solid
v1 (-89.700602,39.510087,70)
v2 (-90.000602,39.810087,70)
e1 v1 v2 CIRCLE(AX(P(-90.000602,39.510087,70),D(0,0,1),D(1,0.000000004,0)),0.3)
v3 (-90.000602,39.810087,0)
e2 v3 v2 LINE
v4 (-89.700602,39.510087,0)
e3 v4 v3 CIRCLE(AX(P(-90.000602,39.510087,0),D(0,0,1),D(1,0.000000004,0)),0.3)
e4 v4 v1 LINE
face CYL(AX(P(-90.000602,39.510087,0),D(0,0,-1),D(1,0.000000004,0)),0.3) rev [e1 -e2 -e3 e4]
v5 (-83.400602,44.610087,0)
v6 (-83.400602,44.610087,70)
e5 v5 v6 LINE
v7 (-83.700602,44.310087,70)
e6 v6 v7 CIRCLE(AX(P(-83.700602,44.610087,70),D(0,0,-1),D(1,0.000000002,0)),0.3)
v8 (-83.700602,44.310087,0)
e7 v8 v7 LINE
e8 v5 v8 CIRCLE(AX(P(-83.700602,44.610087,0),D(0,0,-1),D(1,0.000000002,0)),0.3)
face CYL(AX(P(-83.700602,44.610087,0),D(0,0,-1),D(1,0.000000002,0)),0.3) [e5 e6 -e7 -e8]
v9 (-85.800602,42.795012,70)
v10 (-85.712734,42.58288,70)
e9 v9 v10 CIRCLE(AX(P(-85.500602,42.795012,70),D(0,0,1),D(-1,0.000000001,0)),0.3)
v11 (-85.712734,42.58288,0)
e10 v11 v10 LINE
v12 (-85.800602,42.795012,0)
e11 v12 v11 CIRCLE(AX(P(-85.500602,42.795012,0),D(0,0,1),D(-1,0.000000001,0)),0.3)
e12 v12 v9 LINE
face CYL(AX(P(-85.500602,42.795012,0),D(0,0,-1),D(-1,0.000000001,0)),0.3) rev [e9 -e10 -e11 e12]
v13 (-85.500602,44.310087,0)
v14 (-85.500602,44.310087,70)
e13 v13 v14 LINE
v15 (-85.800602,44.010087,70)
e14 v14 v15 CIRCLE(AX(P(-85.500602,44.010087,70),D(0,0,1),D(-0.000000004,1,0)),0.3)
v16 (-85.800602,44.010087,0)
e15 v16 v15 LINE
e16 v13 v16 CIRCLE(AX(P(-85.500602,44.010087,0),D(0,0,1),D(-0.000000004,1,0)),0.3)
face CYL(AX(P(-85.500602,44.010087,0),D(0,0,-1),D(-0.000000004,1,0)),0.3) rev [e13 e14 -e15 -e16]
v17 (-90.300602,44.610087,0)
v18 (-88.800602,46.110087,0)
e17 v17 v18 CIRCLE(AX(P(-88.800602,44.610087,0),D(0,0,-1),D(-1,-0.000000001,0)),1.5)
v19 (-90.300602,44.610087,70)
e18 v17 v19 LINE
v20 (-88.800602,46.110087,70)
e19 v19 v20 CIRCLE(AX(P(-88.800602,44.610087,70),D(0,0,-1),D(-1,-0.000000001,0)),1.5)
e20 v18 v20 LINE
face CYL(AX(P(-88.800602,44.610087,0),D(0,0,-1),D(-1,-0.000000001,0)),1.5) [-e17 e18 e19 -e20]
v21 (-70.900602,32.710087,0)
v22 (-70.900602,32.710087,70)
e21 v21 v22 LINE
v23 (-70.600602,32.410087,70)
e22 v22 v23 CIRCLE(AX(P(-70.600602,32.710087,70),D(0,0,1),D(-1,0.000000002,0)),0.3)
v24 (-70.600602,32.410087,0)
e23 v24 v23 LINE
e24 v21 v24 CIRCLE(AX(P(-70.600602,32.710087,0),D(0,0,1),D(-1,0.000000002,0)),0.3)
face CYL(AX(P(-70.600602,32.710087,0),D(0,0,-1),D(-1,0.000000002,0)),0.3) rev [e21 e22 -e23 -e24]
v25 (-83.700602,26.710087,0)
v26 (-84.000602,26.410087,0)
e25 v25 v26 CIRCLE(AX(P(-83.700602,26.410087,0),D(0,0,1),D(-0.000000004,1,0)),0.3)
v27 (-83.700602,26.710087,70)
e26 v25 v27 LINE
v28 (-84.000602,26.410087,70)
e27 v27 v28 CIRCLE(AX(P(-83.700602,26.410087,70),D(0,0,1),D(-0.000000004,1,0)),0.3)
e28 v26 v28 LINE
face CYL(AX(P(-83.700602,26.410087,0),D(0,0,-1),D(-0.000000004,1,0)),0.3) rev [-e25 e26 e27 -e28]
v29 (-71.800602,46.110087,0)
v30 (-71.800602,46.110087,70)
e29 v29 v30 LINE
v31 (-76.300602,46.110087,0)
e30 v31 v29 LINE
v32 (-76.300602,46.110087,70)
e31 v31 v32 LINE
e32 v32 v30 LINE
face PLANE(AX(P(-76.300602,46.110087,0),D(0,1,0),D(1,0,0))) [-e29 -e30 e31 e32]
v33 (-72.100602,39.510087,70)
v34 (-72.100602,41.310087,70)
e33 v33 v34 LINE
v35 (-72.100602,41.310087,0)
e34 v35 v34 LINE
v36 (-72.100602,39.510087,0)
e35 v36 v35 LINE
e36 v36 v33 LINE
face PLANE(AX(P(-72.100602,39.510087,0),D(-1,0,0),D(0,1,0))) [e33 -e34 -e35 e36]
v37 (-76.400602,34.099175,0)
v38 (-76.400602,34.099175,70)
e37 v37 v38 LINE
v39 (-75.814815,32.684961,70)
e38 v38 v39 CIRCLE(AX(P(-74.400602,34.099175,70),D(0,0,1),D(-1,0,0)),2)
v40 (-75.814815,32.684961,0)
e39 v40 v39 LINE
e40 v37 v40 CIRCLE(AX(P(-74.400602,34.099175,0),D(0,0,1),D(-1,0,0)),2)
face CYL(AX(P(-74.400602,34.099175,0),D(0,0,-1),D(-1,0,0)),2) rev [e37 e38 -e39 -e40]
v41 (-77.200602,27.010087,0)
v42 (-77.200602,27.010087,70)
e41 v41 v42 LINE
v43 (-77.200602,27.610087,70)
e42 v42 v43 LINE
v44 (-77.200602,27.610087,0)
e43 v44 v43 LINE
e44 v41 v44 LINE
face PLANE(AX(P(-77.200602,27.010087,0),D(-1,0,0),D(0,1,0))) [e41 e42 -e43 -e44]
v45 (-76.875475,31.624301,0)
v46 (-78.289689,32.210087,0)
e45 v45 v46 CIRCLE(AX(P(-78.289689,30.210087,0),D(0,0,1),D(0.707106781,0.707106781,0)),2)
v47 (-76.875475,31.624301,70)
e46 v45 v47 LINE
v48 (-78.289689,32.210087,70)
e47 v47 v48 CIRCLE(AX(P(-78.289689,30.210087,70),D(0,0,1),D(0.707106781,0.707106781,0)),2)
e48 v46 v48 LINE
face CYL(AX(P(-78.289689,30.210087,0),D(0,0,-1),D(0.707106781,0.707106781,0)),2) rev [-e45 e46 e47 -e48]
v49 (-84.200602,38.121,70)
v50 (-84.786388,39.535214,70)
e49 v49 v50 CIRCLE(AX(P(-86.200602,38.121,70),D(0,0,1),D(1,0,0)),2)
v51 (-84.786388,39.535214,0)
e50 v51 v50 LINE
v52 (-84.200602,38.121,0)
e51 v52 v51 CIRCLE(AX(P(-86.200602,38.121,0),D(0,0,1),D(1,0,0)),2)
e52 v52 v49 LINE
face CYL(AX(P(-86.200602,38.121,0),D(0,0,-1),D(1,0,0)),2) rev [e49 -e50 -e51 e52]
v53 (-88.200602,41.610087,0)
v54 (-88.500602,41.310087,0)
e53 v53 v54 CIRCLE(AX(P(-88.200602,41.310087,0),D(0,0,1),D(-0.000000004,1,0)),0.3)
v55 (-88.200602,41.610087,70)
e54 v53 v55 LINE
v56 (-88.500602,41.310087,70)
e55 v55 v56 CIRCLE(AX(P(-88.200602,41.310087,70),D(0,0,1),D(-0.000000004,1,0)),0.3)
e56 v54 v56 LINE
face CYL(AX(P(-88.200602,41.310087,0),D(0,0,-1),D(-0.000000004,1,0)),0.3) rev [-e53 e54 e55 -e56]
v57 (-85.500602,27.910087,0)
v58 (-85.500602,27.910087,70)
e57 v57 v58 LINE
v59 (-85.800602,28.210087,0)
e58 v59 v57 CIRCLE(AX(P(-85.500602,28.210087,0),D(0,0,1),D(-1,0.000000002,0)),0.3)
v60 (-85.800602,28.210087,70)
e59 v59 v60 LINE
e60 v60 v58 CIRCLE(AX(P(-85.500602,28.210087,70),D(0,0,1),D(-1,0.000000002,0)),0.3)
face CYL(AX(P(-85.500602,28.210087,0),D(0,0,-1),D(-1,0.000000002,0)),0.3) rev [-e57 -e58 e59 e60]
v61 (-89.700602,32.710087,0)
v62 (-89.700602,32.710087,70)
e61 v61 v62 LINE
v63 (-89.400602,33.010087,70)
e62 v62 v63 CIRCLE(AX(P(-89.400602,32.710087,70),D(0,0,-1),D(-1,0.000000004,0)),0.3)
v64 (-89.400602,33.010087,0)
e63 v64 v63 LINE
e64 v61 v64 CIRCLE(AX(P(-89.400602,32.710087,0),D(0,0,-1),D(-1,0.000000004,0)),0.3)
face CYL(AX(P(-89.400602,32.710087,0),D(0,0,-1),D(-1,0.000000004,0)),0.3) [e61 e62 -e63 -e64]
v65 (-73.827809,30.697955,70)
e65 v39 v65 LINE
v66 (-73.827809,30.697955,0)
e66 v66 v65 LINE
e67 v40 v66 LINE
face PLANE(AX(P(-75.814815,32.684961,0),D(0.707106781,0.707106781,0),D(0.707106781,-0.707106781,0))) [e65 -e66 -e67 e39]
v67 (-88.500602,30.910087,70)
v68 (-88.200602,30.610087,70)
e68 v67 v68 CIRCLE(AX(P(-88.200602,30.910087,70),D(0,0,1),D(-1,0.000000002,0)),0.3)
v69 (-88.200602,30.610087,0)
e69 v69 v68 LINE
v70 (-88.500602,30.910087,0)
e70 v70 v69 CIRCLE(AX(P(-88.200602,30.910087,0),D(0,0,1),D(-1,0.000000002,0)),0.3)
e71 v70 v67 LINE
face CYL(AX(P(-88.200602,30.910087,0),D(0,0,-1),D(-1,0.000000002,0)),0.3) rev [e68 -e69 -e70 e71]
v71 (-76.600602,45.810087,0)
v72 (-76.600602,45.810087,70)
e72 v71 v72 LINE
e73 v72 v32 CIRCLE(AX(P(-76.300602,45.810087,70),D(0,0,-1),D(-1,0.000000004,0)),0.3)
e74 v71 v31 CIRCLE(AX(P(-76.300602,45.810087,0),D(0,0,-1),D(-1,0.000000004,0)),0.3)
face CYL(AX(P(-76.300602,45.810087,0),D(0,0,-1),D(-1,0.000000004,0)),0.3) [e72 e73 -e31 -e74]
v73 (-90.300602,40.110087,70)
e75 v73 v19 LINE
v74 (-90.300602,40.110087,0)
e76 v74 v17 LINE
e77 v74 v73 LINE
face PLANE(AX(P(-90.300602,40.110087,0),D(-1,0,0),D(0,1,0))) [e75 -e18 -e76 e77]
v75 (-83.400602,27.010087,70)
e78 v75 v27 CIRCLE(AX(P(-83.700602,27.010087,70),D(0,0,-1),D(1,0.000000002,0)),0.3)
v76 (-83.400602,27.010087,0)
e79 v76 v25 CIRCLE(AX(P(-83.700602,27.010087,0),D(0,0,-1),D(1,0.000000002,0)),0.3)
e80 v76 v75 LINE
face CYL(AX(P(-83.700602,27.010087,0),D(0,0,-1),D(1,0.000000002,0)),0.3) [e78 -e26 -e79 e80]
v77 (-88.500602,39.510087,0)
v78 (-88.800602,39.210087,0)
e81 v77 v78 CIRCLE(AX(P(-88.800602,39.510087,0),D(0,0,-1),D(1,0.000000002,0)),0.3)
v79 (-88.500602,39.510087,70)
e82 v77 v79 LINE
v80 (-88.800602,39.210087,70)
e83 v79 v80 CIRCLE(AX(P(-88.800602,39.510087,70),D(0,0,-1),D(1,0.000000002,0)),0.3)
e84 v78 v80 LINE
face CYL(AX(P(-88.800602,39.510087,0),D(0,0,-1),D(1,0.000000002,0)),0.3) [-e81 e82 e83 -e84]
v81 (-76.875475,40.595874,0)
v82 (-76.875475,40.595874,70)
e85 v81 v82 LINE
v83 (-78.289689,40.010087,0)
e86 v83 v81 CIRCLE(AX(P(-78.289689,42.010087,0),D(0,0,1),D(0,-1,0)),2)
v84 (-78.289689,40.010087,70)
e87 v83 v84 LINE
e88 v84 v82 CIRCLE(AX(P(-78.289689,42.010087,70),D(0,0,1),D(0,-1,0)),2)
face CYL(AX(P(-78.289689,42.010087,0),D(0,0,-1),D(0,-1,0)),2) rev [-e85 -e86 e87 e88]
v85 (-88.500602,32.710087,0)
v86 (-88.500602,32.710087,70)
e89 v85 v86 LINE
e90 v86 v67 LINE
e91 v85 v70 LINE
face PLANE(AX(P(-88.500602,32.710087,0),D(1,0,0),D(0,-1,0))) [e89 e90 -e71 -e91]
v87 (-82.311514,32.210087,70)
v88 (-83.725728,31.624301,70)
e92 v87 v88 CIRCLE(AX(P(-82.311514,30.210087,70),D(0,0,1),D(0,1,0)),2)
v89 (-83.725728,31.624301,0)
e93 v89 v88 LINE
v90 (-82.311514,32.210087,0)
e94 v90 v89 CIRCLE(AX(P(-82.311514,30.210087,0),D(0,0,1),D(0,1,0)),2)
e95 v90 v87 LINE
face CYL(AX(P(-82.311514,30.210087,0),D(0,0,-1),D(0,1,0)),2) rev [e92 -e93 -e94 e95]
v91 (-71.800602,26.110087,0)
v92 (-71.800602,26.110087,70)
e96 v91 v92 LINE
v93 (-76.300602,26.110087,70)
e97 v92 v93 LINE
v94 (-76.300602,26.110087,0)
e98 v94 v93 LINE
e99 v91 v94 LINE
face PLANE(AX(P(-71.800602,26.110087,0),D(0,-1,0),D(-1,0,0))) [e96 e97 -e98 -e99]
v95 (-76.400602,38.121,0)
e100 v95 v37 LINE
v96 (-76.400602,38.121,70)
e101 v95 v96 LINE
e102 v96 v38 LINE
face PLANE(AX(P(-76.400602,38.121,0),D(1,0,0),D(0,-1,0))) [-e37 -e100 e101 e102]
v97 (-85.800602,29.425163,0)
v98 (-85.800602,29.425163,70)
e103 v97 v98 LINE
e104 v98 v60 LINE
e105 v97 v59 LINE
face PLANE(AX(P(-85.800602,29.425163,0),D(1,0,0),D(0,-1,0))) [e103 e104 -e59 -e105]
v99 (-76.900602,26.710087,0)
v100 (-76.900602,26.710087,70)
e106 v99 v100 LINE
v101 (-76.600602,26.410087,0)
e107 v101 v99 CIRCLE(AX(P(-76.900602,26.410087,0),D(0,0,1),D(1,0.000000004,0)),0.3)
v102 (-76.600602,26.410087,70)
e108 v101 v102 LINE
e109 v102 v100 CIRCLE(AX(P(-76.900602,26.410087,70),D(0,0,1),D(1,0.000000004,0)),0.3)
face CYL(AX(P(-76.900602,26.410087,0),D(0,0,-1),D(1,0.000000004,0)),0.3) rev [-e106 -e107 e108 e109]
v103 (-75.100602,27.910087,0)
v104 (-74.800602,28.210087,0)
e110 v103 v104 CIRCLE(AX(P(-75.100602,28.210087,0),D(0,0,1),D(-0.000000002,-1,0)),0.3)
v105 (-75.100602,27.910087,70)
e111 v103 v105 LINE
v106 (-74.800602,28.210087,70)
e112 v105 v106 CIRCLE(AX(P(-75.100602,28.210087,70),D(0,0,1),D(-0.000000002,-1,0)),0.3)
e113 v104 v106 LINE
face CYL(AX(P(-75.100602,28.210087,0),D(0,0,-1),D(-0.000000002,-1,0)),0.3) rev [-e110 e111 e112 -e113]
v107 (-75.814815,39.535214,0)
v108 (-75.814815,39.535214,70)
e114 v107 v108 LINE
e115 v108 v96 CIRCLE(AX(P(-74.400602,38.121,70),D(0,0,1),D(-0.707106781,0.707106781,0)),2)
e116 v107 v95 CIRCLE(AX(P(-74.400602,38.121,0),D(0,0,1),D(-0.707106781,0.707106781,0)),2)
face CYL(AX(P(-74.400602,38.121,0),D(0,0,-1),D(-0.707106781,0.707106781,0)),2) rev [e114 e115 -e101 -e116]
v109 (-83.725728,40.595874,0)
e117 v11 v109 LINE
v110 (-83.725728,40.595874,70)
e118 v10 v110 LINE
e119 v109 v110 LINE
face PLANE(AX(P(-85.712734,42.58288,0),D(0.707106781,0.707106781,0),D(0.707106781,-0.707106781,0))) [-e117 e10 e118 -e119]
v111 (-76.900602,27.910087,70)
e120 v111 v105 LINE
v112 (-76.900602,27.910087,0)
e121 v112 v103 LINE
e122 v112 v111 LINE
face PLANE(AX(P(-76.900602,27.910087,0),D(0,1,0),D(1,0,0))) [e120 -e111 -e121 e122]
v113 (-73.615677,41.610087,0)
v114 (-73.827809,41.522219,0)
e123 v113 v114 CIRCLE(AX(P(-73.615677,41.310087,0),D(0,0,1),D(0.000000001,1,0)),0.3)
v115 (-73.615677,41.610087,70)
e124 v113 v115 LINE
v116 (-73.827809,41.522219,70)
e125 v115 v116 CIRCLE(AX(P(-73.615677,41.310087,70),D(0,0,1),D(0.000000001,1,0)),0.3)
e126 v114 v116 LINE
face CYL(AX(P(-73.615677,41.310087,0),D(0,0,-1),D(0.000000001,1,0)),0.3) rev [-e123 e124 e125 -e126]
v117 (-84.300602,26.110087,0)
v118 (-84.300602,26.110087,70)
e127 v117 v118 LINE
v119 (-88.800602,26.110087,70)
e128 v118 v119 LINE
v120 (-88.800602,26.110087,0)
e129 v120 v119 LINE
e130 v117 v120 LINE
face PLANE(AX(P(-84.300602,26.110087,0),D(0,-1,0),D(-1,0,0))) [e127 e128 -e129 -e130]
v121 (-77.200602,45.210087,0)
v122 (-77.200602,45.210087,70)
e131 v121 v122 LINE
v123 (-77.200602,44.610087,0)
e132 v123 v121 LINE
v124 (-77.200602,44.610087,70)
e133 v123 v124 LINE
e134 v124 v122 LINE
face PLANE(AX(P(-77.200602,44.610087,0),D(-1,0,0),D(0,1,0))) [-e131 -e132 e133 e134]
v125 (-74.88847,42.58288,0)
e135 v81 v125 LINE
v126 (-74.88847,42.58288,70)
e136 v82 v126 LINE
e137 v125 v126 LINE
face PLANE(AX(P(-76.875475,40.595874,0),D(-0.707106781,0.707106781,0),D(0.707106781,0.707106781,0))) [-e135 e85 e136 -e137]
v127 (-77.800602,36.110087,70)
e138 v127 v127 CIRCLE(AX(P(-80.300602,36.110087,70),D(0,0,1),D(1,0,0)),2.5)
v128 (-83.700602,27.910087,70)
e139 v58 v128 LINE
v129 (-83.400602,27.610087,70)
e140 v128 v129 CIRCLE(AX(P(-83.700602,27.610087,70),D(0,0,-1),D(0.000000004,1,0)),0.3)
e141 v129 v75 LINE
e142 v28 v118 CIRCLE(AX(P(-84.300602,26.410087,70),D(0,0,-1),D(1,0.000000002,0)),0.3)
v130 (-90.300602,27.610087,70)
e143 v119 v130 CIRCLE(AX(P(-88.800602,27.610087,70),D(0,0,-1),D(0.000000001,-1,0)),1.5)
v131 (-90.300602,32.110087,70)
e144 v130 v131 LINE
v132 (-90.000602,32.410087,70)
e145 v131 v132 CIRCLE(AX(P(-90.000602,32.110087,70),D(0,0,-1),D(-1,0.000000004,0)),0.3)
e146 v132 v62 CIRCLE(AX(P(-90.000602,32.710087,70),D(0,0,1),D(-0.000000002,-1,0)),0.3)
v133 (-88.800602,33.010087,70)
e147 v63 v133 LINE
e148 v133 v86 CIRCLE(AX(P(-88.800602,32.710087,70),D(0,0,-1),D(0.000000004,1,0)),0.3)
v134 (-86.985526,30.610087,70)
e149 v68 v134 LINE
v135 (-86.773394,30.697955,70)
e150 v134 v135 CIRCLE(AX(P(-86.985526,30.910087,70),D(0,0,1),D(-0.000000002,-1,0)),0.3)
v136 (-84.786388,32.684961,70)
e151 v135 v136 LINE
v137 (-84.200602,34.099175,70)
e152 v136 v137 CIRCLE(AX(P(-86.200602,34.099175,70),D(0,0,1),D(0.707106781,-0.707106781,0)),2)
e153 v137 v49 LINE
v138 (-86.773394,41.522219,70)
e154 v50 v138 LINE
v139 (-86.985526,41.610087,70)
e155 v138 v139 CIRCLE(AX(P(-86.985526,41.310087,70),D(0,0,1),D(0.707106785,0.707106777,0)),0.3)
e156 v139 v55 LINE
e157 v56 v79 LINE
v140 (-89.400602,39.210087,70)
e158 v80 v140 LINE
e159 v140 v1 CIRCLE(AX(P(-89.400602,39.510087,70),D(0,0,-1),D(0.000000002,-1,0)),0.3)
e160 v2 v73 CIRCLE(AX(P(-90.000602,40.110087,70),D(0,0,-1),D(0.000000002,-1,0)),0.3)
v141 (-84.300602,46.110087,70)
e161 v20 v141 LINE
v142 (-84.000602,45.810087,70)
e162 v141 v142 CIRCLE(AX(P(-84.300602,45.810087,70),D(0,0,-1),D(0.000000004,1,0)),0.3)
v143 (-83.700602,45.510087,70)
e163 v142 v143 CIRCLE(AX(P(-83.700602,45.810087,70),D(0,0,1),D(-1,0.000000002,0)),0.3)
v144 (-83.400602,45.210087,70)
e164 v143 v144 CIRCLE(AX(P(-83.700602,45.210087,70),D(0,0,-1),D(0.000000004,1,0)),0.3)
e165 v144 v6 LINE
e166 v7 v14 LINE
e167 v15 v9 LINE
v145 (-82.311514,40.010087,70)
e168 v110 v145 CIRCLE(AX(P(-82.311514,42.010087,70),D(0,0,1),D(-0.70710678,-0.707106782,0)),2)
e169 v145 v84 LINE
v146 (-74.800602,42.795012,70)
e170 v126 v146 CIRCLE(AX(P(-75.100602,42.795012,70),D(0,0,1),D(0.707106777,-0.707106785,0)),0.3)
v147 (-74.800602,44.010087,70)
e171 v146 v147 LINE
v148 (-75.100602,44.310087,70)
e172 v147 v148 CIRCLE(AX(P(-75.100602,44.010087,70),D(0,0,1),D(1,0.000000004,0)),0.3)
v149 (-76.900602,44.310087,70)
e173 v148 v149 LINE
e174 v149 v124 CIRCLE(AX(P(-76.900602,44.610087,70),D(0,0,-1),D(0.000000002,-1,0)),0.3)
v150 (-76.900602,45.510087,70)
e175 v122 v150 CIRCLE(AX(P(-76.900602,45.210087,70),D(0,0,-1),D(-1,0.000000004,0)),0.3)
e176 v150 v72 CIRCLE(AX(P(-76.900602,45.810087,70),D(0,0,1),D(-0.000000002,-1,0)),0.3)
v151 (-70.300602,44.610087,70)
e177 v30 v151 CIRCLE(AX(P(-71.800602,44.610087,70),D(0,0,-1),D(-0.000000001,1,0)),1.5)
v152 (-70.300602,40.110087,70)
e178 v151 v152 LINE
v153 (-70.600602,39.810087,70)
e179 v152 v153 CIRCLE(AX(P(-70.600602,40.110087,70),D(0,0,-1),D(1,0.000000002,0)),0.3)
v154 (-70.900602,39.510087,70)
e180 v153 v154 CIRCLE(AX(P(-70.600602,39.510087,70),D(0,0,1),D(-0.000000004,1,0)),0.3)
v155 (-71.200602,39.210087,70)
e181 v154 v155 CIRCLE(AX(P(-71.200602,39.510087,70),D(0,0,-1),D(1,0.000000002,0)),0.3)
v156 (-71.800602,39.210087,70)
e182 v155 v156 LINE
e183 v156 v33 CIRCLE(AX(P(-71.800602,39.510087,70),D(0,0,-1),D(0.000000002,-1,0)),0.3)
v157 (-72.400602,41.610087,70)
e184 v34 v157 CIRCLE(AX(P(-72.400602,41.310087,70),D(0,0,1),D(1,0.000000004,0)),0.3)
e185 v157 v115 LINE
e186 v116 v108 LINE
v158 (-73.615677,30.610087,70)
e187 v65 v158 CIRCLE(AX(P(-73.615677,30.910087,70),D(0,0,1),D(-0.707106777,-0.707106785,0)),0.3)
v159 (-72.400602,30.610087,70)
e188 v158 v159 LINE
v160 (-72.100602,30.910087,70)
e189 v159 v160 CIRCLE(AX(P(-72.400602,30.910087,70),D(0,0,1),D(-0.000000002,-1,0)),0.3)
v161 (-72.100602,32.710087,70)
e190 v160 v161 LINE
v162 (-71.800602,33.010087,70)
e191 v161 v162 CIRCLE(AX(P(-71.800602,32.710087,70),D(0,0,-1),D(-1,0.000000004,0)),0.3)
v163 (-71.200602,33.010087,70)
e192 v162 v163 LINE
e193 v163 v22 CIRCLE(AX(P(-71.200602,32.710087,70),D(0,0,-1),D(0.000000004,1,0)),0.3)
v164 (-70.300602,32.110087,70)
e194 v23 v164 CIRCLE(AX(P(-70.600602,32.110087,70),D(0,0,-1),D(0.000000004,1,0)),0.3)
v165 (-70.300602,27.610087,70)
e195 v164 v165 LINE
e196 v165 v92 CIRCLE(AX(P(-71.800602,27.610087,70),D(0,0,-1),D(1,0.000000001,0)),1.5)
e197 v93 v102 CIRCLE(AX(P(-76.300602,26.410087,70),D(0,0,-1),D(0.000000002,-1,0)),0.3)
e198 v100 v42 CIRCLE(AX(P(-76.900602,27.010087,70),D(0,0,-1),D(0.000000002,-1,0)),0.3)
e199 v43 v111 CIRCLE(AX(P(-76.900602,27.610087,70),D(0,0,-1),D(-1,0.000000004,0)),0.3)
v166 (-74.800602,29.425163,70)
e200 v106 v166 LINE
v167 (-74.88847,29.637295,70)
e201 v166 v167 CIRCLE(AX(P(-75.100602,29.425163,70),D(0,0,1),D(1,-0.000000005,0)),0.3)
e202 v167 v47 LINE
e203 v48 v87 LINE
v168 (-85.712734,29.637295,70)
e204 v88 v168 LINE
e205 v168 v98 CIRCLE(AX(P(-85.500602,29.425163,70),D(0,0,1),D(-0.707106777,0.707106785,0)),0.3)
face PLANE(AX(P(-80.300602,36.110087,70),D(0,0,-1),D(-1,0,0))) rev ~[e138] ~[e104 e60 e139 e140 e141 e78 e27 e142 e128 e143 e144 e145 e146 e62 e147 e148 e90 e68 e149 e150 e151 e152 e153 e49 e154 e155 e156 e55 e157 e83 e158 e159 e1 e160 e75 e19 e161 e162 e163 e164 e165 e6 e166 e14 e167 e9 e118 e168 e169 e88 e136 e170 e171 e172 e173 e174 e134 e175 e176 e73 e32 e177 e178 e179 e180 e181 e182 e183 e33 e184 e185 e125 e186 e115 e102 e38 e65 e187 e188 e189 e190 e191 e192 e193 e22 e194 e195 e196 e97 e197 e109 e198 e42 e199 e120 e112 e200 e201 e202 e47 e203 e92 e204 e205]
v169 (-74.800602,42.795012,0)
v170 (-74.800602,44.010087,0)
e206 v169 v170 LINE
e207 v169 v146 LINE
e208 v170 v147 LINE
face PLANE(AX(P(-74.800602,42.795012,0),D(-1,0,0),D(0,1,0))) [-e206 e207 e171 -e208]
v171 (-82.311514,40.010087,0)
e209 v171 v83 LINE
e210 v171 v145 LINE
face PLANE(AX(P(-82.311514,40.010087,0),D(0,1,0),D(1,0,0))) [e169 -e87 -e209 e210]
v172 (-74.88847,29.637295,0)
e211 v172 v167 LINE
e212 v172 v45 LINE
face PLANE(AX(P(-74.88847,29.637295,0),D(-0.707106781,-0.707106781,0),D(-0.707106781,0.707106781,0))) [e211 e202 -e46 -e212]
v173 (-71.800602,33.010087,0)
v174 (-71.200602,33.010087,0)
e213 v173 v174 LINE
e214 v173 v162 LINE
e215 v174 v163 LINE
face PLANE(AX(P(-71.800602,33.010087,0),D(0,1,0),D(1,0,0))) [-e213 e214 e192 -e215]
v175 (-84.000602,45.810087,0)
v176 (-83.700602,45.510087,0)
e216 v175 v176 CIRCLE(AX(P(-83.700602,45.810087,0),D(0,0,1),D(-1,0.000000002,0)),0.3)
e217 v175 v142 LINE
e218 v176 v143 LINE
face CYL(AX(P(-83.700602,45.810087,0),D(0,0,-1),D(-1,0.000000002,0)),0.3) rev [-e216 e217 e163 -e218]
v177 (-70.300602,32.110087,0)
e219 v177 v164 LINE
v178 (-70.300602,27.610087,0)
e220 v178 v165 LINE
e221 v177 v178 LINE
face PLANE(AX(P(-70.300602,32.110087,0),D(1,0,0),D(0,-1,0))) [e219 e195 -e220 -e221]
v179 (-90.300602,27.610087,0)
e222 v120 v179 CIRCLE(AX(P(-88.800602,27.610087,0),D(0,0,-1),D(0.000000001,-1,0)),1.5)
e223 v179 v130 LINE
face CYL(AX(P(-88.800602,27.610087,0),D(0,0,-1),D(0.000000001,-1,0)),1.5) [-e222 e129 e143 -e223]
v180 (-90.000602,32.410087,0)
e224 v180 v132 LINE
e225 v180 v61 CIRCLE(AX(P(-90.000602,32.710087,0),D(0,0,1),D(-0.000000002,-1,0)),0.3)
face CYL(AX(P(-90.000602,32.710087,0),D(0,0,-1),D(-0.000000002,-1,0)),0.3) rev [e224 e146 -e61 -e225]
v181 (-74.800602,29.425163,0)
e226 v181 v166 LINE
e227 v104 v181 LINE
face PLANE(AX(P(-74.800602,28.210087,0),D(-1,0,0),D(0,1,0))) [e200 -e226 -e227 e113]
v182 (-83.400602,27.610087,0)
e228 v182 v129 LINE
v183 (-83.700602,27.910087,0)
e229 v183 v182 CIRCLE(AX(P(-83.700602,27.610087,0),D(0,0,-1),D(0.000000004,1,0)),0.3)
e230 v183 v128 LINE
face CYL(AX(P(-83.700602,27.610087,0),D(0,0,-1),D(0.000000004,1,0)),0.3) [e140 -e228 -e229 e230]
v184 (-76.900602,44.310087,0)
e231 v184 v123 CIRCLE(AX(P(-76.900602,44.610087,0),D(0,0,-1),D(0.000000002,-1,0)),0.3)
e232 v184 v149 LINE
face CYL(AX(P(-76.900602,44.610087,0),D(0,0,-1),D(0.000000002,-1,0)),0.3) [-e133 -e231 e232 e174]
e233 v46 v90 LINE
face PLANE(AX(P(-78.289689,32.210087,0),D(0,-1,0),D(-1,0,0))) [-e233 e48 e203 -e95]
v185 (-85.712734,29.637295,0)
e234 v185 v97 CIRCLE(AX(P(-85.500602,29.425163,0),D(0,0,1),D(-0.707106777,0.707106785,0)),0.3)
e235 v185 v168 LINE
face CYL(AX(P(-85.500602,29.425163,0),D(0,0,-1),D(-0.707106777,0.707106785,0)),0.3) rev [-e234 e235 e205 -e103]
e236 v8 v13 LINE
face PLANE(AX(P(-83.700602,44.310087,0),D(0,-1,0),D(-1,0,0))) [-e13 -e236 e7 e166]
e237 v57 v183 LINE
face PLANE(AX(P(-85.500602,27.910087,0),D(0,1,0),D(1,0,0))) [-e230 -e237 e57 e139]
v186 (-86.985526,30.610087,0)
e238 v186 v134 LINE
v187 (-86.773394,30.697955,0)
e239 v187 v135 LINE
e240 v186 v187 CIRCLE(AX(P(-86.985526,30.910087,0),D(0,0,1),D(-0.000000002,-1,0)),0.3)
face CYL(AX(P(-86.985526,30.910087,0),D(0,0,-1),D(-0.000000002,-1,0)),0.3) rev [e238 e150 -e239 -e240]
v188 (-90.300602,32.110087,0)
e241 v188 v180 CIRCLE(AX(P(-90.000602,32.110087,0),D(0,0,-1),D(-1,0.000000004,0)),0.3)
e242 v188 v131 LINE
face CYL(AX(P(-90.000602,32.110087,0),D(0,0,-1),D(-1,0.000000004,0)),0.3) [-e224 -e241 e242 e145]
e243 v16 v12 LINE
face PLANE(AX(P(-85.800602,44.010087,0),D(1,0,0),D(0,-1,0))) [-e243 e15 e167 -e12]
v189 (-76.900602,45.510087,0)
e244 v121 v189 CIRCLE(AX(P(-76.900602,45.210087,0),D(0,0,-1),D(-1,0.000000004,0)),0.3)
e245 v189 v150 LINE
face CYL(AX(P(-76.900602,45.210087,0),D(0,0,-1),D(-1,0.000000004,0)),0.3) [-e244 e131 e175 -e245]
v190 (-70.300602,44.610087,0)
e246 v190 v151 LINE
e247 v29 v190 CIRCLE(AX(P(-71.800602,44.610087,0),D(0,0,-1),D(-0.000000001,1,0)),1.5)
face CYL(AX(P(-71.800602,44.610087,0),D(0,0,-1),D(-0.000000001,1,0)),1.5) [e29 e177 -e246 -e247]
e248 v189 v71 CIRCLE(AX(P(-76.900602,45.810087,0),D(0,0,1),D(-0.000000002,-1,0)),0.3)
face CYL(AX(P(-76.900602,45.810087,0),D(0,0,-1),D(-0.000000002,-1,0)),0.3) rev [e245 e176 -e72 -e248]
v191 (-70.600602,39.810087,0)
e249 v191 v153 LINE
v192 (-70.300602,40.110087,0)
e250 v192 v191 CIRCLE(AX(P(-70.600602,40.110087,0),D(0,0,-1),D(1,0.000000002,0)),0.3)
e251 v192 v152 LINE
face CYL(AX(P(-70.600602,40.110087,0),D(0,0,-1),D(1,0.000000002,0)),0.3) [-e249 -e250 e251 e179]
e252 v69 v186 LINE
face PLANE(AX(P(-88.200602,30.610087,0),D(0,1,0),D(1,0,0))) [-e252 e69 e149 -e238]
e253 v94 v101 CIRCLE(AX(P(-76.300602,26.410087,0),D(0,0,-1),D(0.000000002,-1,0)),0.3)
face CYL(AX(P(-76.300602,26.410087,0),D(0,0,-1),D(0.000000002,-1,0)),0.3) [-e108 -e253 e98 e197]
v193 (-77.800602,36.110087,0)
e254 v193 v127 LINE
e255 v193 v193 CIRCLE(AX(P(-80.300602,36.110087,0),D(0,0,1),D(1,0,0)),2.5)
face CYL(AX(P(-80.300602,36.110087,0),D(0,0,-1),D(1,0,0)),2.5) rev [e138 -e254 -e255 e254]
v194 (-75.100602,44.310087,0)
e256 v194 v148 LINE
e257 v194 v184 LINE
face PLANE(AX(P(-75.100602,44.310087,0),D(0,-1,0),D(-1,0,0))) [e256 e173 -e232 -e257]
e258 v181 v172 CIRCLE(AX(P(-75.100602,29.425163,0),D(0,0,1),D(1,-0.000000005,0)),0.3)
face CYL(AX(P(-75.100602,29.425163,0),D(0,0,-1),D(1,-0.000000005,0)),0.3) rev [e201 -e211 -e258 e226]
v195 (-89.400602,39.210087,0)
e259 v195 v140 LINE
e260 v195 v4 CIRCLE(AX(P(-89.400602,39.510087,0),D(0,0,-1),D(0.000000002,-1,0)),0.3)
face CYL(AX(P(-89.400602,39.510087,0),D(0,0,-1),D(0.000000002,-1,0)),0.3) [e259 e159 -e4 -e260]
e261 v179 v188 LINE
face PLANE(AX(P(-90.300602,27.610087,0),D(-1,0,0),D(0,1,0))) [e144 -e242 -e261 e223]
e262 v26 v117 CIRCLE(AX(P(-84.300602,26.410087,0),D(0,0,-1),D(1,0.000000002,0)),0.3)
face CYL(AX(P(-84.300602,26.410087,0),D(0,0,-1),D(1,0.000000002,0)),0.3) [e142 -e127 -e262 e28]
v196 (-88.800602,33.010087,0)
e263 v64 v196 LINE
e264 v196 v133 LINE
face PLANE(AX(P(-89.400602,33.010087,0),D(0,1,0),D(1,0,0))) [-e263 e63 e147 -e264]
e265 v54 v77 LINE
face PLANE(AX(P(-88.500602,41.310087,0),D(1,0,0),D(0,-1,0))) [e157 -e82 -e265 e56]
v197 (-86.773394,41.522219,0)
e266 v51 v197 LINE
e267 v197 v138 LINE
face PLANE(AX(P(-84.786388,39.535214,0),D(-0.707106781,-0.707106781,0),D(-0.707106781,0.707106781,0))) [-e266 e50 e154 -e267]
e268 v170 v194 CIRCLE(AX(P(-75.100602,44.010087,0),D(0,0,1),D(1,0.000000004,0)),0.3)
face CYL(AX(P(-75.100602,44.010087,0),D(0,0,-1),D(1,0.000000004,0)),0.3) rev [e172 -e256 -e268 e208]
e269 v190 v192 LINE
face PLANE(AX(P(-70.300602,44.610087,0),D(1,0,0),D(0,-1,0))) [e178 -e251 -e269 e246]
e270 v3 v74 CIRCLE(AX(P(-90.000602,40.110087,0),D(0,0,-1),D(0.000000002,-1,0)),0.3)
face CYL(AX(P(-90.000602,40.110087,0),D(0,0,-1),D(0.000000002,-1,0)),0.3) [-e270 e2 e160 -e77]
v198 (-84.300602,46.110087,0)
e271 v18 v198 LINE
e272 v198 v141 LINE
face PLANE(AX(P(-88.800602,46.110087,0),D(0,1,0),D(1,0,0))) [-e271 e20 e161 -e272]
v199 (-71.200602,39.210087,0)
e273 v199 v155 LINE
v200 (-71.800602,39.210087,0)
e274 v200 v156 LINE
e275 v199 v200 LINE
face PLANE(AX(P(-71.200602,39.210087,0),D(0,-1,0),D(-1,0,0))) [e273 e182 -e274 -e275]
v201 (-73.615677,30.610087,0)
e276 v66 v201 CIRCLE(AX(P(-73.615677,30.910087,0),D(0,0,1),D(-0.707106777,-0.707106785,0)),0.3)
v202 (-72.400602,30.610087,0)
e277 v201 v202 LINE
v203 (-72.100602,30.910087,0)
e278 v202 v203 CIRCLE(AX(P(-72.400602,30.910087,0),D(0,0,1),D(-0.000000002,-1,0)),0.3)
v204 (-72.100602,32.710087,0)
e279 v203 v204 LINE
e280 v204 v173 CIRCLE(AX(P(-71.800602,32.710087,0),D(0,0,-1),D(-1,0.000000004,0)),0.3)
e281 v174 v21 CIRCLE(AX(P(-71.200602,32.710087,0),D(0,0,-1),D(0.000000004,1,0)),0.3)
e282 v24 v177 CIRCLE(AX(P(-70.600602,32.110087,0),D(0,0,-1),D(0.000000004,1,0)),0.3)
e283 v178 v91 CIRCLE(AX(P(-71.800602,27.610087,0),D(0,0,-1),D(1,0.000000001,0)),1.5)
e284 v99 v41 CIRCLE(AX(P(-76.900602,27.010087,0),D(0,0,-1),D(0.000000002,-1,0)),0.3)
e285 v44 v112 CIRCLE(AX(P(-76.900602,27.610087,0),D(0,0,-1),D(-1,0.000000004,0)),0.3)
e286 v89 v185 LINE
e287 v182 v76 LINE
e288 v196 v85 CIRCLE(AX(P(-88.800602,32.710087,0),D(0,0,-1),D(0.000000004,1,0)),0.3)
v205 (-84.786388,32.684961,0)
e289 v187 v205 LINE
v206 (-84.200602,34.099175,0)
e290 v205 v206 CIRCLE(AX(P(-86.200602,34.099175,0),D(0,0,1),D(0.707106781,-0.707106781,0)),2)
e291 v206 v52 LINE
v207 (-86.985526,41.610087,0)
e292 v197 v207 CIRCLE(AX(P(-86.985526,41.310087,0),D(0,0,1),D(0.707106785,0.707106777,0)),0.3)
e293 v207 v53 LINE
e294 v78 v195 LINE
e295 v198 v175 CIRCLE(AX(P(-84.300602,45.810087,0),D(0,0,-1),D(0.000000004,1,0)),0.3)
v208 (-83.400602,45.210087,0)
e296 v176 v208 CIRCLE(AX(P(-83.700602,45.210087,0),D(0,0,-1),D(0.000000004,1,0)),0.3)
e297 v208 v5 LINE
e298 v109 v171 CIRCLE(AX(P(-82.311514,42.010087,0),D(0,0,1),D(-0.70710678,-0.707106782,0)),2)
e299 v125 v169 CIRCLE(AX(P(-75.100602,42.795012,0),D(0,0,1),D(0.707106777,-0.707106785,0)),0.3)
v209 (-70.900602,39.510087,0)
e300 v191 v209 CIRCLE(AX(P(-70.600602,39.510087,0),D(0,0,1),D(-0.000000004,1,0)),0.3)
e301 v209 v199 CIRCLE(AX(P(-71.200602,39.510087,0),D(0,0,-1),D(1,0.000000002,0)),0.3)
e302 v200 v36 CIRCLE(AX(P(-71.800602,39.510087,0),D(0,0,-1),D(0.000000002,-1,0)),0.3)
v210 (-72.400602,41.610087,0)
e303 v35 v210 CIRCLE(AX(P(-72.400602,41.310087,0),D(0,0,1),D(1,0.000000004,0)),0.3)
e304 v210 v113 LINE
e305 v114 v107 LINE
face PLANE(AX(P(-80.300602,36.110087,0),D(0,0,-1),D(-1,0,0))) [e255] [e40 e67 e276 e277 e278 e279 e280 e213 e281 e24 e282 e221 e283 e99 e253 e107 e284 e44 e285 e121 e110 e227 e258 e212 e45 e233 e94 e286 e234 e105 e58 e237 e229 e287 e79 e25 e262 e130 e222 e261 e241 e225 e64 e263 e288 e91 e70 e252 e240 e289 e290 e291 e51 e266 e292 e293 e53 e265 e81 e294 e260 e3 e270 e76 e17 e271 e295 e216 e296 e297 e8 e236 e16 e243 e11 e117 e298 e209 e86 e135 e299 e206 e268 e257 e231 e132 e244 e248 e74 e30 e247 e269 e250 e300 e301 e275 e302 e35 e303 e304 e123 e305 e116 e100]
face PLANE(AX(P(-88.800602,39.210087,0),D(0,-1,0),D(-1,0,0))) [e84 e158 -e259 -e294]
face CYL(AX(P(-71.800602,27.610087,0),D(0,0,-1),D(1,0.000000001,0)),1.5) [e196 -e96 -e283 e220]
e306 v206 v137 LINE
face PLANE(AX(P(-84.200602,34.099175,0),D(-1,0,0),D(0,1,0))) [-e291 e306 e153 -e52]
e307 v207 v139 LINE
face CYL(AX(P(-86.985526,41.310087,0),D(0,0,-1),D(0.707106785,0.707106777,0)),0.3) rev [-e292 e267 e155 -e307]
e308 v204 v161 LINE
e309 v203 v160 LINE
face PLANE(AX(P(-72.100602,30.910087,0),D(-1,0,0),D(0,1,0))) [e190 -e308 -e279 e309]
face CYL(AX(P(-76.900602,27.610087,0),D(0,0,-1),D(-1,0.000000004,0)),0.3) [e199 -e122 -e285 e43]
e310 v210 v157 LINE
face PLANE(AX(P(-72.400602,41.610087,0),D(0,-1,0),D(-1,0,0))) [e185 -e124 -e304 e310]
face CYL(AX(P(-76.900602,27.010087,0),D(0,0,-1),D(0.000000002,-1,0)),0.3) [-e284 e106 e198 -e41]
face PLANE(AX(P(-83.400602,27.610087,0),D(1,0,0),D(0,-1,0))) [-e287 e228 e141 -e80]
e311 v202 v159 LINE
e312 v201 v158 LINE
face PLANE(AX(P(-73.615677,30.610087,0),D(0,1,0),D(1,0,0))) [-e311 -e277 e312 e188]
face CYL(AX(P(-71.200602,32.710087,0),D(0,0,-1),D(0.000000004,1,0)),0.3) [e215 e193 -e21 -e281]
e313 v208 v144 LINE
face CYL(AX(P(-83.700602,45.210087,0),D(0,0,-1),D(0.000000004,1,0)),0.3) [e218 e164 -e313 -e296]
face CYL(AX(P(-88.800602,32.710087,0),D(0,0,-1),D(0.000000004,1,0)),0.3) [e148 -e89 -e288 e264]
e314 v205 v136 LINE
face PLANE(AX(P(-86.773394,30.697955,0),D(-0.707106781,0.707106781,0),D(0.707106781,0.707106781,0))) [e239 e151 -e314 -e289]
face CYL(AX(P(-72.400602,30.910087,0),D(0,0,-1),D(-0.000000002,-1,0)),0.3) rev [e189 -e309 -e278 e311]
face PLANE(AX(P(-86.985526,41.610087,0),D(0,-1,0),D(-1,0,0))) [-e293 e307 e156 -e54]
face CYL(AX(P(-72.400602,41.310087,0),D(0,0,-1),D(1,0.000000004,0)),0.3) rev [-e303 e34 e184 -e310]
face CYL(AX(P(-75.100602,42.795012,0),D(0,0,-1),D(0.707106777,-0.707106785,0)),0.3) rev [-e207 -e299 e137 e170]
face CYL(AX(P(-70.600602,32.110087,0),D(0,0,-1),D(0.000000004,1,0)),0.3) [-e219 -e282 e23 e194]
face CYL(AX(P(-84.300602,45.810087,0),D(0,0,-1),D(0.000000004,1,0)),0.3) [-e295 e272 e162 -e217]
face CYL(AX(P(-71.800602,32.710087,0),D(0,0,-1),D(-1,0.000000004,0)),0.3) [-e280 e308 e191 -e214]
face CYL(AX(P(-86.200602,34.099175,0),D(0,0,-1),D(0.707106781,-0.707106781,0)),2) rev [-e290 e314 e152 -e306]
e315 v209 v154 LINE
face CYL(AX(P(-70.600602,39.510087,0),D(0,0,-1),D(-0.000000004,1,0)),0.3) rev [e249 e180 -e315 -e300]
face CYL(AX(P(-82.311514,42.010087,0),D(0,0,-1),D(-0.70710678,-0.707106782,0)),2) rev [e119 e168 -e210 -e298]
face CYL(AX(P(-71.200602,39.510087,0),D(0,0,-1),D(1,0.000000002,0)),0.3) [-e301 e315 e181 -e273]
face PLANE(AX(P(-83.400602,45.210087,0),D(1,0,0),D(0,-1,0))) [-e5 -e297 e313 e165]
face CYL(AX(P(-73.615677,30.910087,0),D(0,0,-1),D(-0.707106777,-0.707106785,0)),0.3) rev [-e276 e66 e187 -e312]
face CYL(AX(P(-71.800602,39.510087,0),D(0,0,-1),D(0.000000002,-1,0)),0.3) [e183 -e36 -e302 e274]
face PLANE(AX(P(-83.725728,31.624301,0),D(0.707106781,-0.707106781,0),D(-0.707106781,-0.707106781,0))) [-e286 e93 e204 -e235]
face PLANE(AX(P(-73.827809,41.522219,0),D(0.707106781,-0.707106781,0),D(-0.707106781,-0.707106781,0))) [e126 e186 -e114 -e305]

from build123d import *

# Parameters (mm, degrees)
SKETCH_1_R      = 2.5
EXTRUDE_1_DEPTH = 70


with BuildPart() as part:
    # 草图1 → 凸台-拉伸1 (new body)
    with BuildSketch(Plane.XY):
        with BuildLine():
            Line((-70.300601627, 44.610087446), (-70.300601627, 40.110087446))
            ThreePointArc((-70.300601627, 40.110087446), (-70.388469593, 39.897955411), (-70.600601627, 39.810087446))
            ThreePointArc((-70.600601627, 39.810087446), (-70.812733661, 39.72221948), (-70.900601627, 39.510087446))
            ThreePointArc((-70.900601627, 39.510087446), (-70.988469593, 39.297955411), (-71.200601627, 39.210087446))
            Line((-71.200601627, 39.210087446), (-71.800601627, 39.210087446))
            ThreePointArc((-71.800601627, 39.210087446), (-72.012733661, 39.297955411), (-72.100601627, 39.510087446))
            Line((-72.100601627, 39.510087446), (-72.100601627, 41.310087446))
            ThreePointArc((-72.100601627, 41.310087446), (-72.188469593, 41.52221948), (-72.400601627, 41.610087446))
            Line((-72.400601627, 41.610087446), (-73.615677387, 41.610087446))
            ThreePointArc((-73.615677387, 41.610087446), (-73.730482416, 41.587251306), (-73.827809421, 41.52221948))
            Line((-73.827809421, 41.52221948), (-75.814815189, 39.535213712))
            ThreePointArc((-75.814815189, 39.535213712), (-76.248360692, 38.886367014), (-76.400601627, 38.121000149))
            Line((-76.400601627, 38.121000149), (-76.400601627, 34.099174742))
            ThreePointArc((-76.400601627, 34.099174742), (-76.248360692, 33.333807878), (-75.814815189, 32.68496118))
            Line((-75.814815189, 32.68496118), (-73.827809421, 30.697955411))
            ThreePointArc((-73.827809421, 30.697955411), (-73.730482416, 30.632923586), (-73.615677387, 30.610087446))
            Line((-73.615677387, 30.610087446), (-72.400601627, 30.610087446))
            ThreePointArc((-72.400601627, 30.610087446), (-72.188469593, 30.697955411), (-72.100601627, 30.910087446))
            Line((-72.100601627, 30.910087446), (-72.100601627, 32.710087446))
            ThreePointArc((-72.100601627, 32.710087446), (-72.012733661, 32.92221948), (-71.800601627, 33.010087446))
            Line((-71.800601627, 33.010087446), (-71.200601627, 33.010087446))
            ThreePointArc((-71.200601627, 33.010087446), (-70.988469593, 32.92221948), (-70.900601627, 32.710087446))
            ThreePointArc((-70.900601627, 32.710087446), (-70.812733661, 32.497955411), (-70.600601627, 32.410087446))
            ThreePointArc((-70.600601627, 32.410087446), (-70.388469593, 32.32221948), (-70.300601627, 32.110087446))
            Line((-70.300601627, 32.110087446), (-70.300601627, 27.610087446))
            ThreePointArc((-70.300601627, 27.610087446), (-70.739941455, 26.549427274), (-71.800601627, 26.110087446))
            Line((-71.800601627, 26.110087446), (-76.300601627, 26.110087446))
            ThreePointArc((-76.300601627, 26.110087446), (-76.512733661, 26.197955411), (-76.600601627, 26.410087446))
            ThreePointArc((-76.600601627, 26.410087446), (-76.688469593, 26.62221948), (-76.900601627, 26.710087446))
            ThreePointArc((-76.900601627, 26.710087446), (-77.112733661, 26.797955411), (-77.200601627, 27.010087446))
            Line((-77.200601627, 27.010087446), (-77.200601627, 27.610087446))
            ThreePointArc((-77.200601627, 27.610087446), (-77.112733661, 27.82221948), (-76.900601627, 27.910087446))
            Line((-76.900601627, 27.910087446), (-75.100601627, 27.910087446))
            ThreePointArc((-75.100601627, 27.910087446), (-74.888469593, 27.997955411), (-74.800601627, 28.210087446))
            Line((-74.800601627, 28.210087446), (-74.800601627, 29.425163205))
            ThreePointArc((-74.800601627, 29.425163205), (-74.823437767, 29.539968235), (-74.888469593, 29.63729524))
            Line((-74.888469593, 29.63729524), (-76.875475361, 31.624301008))
            ThreePointArc((-76.875475361, 31.624301008), (-77.524322059, 32.057846511), (-78.289688924, 32.210087446))
            Line((-78.289688924, 32.210087446), (-82.311514331, 32.210087446))
            ThreePointArc((-82.311514331, 32.210087446), (-83.076881195, 32.057846511), (-83.725727893, 31.624301008))
            Line((-83.725727893, 31.624301008), (-85.712733661, 29.63729524))
            ThreePointArc((-85.712733661, 29.63729524), (-85.777765487, 29.539968235), (-85.800601627, 29.425163205))
            Line((-85.800601627, 29.425163205), (-85.800601627, 28.210087446))
            ThreePointArc((-85.800601627, 28.210087446), (-85.712733661, 27.997955411), (-85.500601627, 27.910087446))
            Line((-85.500601627, 27.910087446), (-83.700601627, 27.910087446))
            ThreePointArc((-83.700601627, 27.910087446), (-83.488469593, 27.82221948), (-83.400601627, 27.610087446))
            Line((-83.400601627, 27.610087446), (-83.400601627, 27.010087446))
            ThreePointArc((-83.400601627, 27.010087446), (-83.488469593, 26.797955411), (-83.700601627, 26.710087446))
            ThreePointArc((-83.700601627, 26.710087446), (-83.912733661, 26.62221948), (-84.000601627, 26.410087446))
            ThreePointArc((-84.000601627, 26.410087446), (-84.088469593, 26.197955411), (-84.300601627, 26.110087446))
            Line((-84.300601627, 26.110087446), (-88.800601627, 26.110087446))
            ThreePointArc((-88.800601627, 26.110087446), (-89.861261799, 26.549427274), (-90.300601627, 27.610087446))
            Line((-90.300601627, 27.610087446), (-90.300601627, 32.110087446))
            ThreePointArc((-90.300601627, 32.110087446), (-90.212733661, 32.32221948), (-90.000601627, 32.410087446))
            ThreePointArc((-90.000601627, 32.410087446), (-89.788469593, 32.497955411), (-89.700601627, 32.710087446))
            ThreePointArc((-89.700601627, 32.710087446), (-89.612733661, 32.92221948), (-89.400601627, 33.010087446))
            Line((-89.400601627, 33.010087446), (-88.800601627, 33.010087446))
            ThreePointArc((-88.800601627, 33.010087446), (-88.588469593, 32.92221948), (-88.500601627, 32.710087446))
            Line((-88.500601627, 32.710087446), (-88.500601627, 30.910087446))
            ThreePointArc((-88.500601627, 30.910087446), (-88.412733661, 30.697955411), (-88.200601627, 30.610087446))
            Line((-88.200601627, 30.610087446), (-86.985525868, 30.610087446))
            ThreePointArc((-86.985525868, 30.610087446), (-86.870720838, 30.632923586), (-86.773393833, 30.697955411))
            Line((-86.773393833, 30.697955411), (-84.786388065, 32.68496118))
            ThreePointArc((-84.786388065, 32.68496118), (-84.352842562, 33.333807878), (-84.200601627, 34.099174742))
            Line((-84.200601627, 34.099174742), (-84.200601627, 38.121000149))
            ThreePointArc((-84.200601627, 38.121000149), (-84.352842562, 38.886367014), (-84.786388065, 39.535213712))
            Line((-84.786388065, 39.535213712), (-86.773393833, 41.52221948))
            ThreePointArc((-86.773393833, 41.52221948), (-86.870720838, 41.587251306), (-86.985525868, 41.610087446))
            Line((-86.985525868, 41.610087446), (-88.200601627, 41.610087446))
            ThreePointArc((-88.200601627, 41.610087446), (-88.412733661, 41.52221948), (-88.500601627, 41.310087446))
            Line((-88.500601627, 41.310087446), (-88.500601627, 39.510087446))
            ThreePointArc((-88.500601627, 39.510087446), (-88.588469593, 39.297955411), (-88.800601627, 39.210087446))
            Line((-88.800601627, 39.210087446), (-89.400601627, 39.210087446))
            ThreePointArc((-89.400601627, 39.210087446), (-89.612733661, 39.297955411), (-89.700601627, 39.510087446))
            ThreePointArc((-89.700601627, 39.510087446), (-89.788469593, 39.72221948), (-90.000601627, 39.810087446))
            ThreePointArc((-90.000601627, 39.810087446), (-90.212733661, 39.897955411), (-90.300601627, 40.110087446))
            Line((-90.300601627, 40.110087446), (-90.300601627, 44.610087446))
            ThreePointArc((-90.300601627, 44.610087446), (-89.861261799, 45.670747618), (-88.800601627, 46.110087446))
            Line((-88.800601627, 46.110087446), (-84.300601627, 46.110087446))
            ThreePointArc((-84.300601627, 46.110087446), (-84.088469593, 46.02221948), (-84.000601627, 45.810087446))
            ThreePointArc((-84.000601627, 45.810087446), (-83.912733661, 45.597955411), (-83.700601627, 45.510087446))
            ThreePointArc((-83.700601627, 45.510087446), (-83.488469593, 45.42221948), (-83.400601627, 45.210087446))
            Line((-83.400601627, 45.210087446), (-83.400601627, 44.610087446))
            ThreePointArc((-83.400601627, 44.610087446), (-83.488469593, 44.397955411), (-83.700601627, 44.310087446))
            Line((-83.700601627, 44.310087446), (-85.500601627, 44.310087446))
            ThreePointArc((-85.500601627, 44.310087446), (-85.712733661, 44.22221948), (-85.800601627, 44.010087446))
            Line((-85.800601627, 44.010087446), (-85.800601627, 42.795011686))
            ThreePointArc((-85.800601627, 42.795011686), (-85.777765487, 42.680206657), (-85.712733661, 42.582879652))
            Line((-85.712733661, 42.582879652), (-83.725727893, 40.595873883))
            ThreePointArc((-83.725727893, 40.595873883), (-83.076881195, 40.162328381), (-82.311514331, 40.010087446))
            Line((-82.311514331, 40.010087446), (-78.289688924, 40.010087446))
            ThreePointArc((-78.289688924, 40.010087446), (-77.524322059, 40.162328381), (-76.875475361, 40.595873883))
            Line((-76.875475361, 40.595873883), (-74.888469593, 42.582879652))
            ThreePointArc((-74.888469593, 42.582879652), (-74.823437767, 42.680206657), (-74.800601627, 42.795011686))
            Line((-74.800601627, 42.795011686), (-74.800601627, 44.010087446))
            ThreePointArc((-74.800601627, 44.010087446), (-74.888469593, 44.22221948), (-75.100601627, 44.310087446))
            Line((-75.100601627, 44.310087446), (-76.900601627, 44.310087446))
            ThreePointArc((-76.900601627, 44.310087446), (-77.112733661, 44.397955411), (-77.200601627, 44.610087446))
            Line((-77.200601627, 44.610087446), (-77.200601627, 45.210087446))
            ThreePointArc((-77.200601627, 45.210087446), (-77.112733661, 45.42221948), (-76.900601627, 45.510087446))
            ThreePointArc((-76.900601627, 45.510087446), (-76.688469593, 45.597955411), (-76.600601627, 45.810087446))
            ThreePointArc((-76.600601627, 45.810087446), (-76.512733661, 46.02221948), (-76.300601627, 46.110087446))
            Line((-76.300601627, 46.110087446), (-71.800601627, 46.110087446))
            ThreePointArc((-71.800601627, 46.110087446), (-70.739941455, 45.670747618), (-70.300601627, 44.610087446))
        make_face()
        with Locations((-80.300601627, 36.110087446)):
            Circle(SKETCH_1_R, mode=Mode.SUBTRACT)
    extrude(amount=EXTRUDE_1_DEPTH)


solid = part.part
